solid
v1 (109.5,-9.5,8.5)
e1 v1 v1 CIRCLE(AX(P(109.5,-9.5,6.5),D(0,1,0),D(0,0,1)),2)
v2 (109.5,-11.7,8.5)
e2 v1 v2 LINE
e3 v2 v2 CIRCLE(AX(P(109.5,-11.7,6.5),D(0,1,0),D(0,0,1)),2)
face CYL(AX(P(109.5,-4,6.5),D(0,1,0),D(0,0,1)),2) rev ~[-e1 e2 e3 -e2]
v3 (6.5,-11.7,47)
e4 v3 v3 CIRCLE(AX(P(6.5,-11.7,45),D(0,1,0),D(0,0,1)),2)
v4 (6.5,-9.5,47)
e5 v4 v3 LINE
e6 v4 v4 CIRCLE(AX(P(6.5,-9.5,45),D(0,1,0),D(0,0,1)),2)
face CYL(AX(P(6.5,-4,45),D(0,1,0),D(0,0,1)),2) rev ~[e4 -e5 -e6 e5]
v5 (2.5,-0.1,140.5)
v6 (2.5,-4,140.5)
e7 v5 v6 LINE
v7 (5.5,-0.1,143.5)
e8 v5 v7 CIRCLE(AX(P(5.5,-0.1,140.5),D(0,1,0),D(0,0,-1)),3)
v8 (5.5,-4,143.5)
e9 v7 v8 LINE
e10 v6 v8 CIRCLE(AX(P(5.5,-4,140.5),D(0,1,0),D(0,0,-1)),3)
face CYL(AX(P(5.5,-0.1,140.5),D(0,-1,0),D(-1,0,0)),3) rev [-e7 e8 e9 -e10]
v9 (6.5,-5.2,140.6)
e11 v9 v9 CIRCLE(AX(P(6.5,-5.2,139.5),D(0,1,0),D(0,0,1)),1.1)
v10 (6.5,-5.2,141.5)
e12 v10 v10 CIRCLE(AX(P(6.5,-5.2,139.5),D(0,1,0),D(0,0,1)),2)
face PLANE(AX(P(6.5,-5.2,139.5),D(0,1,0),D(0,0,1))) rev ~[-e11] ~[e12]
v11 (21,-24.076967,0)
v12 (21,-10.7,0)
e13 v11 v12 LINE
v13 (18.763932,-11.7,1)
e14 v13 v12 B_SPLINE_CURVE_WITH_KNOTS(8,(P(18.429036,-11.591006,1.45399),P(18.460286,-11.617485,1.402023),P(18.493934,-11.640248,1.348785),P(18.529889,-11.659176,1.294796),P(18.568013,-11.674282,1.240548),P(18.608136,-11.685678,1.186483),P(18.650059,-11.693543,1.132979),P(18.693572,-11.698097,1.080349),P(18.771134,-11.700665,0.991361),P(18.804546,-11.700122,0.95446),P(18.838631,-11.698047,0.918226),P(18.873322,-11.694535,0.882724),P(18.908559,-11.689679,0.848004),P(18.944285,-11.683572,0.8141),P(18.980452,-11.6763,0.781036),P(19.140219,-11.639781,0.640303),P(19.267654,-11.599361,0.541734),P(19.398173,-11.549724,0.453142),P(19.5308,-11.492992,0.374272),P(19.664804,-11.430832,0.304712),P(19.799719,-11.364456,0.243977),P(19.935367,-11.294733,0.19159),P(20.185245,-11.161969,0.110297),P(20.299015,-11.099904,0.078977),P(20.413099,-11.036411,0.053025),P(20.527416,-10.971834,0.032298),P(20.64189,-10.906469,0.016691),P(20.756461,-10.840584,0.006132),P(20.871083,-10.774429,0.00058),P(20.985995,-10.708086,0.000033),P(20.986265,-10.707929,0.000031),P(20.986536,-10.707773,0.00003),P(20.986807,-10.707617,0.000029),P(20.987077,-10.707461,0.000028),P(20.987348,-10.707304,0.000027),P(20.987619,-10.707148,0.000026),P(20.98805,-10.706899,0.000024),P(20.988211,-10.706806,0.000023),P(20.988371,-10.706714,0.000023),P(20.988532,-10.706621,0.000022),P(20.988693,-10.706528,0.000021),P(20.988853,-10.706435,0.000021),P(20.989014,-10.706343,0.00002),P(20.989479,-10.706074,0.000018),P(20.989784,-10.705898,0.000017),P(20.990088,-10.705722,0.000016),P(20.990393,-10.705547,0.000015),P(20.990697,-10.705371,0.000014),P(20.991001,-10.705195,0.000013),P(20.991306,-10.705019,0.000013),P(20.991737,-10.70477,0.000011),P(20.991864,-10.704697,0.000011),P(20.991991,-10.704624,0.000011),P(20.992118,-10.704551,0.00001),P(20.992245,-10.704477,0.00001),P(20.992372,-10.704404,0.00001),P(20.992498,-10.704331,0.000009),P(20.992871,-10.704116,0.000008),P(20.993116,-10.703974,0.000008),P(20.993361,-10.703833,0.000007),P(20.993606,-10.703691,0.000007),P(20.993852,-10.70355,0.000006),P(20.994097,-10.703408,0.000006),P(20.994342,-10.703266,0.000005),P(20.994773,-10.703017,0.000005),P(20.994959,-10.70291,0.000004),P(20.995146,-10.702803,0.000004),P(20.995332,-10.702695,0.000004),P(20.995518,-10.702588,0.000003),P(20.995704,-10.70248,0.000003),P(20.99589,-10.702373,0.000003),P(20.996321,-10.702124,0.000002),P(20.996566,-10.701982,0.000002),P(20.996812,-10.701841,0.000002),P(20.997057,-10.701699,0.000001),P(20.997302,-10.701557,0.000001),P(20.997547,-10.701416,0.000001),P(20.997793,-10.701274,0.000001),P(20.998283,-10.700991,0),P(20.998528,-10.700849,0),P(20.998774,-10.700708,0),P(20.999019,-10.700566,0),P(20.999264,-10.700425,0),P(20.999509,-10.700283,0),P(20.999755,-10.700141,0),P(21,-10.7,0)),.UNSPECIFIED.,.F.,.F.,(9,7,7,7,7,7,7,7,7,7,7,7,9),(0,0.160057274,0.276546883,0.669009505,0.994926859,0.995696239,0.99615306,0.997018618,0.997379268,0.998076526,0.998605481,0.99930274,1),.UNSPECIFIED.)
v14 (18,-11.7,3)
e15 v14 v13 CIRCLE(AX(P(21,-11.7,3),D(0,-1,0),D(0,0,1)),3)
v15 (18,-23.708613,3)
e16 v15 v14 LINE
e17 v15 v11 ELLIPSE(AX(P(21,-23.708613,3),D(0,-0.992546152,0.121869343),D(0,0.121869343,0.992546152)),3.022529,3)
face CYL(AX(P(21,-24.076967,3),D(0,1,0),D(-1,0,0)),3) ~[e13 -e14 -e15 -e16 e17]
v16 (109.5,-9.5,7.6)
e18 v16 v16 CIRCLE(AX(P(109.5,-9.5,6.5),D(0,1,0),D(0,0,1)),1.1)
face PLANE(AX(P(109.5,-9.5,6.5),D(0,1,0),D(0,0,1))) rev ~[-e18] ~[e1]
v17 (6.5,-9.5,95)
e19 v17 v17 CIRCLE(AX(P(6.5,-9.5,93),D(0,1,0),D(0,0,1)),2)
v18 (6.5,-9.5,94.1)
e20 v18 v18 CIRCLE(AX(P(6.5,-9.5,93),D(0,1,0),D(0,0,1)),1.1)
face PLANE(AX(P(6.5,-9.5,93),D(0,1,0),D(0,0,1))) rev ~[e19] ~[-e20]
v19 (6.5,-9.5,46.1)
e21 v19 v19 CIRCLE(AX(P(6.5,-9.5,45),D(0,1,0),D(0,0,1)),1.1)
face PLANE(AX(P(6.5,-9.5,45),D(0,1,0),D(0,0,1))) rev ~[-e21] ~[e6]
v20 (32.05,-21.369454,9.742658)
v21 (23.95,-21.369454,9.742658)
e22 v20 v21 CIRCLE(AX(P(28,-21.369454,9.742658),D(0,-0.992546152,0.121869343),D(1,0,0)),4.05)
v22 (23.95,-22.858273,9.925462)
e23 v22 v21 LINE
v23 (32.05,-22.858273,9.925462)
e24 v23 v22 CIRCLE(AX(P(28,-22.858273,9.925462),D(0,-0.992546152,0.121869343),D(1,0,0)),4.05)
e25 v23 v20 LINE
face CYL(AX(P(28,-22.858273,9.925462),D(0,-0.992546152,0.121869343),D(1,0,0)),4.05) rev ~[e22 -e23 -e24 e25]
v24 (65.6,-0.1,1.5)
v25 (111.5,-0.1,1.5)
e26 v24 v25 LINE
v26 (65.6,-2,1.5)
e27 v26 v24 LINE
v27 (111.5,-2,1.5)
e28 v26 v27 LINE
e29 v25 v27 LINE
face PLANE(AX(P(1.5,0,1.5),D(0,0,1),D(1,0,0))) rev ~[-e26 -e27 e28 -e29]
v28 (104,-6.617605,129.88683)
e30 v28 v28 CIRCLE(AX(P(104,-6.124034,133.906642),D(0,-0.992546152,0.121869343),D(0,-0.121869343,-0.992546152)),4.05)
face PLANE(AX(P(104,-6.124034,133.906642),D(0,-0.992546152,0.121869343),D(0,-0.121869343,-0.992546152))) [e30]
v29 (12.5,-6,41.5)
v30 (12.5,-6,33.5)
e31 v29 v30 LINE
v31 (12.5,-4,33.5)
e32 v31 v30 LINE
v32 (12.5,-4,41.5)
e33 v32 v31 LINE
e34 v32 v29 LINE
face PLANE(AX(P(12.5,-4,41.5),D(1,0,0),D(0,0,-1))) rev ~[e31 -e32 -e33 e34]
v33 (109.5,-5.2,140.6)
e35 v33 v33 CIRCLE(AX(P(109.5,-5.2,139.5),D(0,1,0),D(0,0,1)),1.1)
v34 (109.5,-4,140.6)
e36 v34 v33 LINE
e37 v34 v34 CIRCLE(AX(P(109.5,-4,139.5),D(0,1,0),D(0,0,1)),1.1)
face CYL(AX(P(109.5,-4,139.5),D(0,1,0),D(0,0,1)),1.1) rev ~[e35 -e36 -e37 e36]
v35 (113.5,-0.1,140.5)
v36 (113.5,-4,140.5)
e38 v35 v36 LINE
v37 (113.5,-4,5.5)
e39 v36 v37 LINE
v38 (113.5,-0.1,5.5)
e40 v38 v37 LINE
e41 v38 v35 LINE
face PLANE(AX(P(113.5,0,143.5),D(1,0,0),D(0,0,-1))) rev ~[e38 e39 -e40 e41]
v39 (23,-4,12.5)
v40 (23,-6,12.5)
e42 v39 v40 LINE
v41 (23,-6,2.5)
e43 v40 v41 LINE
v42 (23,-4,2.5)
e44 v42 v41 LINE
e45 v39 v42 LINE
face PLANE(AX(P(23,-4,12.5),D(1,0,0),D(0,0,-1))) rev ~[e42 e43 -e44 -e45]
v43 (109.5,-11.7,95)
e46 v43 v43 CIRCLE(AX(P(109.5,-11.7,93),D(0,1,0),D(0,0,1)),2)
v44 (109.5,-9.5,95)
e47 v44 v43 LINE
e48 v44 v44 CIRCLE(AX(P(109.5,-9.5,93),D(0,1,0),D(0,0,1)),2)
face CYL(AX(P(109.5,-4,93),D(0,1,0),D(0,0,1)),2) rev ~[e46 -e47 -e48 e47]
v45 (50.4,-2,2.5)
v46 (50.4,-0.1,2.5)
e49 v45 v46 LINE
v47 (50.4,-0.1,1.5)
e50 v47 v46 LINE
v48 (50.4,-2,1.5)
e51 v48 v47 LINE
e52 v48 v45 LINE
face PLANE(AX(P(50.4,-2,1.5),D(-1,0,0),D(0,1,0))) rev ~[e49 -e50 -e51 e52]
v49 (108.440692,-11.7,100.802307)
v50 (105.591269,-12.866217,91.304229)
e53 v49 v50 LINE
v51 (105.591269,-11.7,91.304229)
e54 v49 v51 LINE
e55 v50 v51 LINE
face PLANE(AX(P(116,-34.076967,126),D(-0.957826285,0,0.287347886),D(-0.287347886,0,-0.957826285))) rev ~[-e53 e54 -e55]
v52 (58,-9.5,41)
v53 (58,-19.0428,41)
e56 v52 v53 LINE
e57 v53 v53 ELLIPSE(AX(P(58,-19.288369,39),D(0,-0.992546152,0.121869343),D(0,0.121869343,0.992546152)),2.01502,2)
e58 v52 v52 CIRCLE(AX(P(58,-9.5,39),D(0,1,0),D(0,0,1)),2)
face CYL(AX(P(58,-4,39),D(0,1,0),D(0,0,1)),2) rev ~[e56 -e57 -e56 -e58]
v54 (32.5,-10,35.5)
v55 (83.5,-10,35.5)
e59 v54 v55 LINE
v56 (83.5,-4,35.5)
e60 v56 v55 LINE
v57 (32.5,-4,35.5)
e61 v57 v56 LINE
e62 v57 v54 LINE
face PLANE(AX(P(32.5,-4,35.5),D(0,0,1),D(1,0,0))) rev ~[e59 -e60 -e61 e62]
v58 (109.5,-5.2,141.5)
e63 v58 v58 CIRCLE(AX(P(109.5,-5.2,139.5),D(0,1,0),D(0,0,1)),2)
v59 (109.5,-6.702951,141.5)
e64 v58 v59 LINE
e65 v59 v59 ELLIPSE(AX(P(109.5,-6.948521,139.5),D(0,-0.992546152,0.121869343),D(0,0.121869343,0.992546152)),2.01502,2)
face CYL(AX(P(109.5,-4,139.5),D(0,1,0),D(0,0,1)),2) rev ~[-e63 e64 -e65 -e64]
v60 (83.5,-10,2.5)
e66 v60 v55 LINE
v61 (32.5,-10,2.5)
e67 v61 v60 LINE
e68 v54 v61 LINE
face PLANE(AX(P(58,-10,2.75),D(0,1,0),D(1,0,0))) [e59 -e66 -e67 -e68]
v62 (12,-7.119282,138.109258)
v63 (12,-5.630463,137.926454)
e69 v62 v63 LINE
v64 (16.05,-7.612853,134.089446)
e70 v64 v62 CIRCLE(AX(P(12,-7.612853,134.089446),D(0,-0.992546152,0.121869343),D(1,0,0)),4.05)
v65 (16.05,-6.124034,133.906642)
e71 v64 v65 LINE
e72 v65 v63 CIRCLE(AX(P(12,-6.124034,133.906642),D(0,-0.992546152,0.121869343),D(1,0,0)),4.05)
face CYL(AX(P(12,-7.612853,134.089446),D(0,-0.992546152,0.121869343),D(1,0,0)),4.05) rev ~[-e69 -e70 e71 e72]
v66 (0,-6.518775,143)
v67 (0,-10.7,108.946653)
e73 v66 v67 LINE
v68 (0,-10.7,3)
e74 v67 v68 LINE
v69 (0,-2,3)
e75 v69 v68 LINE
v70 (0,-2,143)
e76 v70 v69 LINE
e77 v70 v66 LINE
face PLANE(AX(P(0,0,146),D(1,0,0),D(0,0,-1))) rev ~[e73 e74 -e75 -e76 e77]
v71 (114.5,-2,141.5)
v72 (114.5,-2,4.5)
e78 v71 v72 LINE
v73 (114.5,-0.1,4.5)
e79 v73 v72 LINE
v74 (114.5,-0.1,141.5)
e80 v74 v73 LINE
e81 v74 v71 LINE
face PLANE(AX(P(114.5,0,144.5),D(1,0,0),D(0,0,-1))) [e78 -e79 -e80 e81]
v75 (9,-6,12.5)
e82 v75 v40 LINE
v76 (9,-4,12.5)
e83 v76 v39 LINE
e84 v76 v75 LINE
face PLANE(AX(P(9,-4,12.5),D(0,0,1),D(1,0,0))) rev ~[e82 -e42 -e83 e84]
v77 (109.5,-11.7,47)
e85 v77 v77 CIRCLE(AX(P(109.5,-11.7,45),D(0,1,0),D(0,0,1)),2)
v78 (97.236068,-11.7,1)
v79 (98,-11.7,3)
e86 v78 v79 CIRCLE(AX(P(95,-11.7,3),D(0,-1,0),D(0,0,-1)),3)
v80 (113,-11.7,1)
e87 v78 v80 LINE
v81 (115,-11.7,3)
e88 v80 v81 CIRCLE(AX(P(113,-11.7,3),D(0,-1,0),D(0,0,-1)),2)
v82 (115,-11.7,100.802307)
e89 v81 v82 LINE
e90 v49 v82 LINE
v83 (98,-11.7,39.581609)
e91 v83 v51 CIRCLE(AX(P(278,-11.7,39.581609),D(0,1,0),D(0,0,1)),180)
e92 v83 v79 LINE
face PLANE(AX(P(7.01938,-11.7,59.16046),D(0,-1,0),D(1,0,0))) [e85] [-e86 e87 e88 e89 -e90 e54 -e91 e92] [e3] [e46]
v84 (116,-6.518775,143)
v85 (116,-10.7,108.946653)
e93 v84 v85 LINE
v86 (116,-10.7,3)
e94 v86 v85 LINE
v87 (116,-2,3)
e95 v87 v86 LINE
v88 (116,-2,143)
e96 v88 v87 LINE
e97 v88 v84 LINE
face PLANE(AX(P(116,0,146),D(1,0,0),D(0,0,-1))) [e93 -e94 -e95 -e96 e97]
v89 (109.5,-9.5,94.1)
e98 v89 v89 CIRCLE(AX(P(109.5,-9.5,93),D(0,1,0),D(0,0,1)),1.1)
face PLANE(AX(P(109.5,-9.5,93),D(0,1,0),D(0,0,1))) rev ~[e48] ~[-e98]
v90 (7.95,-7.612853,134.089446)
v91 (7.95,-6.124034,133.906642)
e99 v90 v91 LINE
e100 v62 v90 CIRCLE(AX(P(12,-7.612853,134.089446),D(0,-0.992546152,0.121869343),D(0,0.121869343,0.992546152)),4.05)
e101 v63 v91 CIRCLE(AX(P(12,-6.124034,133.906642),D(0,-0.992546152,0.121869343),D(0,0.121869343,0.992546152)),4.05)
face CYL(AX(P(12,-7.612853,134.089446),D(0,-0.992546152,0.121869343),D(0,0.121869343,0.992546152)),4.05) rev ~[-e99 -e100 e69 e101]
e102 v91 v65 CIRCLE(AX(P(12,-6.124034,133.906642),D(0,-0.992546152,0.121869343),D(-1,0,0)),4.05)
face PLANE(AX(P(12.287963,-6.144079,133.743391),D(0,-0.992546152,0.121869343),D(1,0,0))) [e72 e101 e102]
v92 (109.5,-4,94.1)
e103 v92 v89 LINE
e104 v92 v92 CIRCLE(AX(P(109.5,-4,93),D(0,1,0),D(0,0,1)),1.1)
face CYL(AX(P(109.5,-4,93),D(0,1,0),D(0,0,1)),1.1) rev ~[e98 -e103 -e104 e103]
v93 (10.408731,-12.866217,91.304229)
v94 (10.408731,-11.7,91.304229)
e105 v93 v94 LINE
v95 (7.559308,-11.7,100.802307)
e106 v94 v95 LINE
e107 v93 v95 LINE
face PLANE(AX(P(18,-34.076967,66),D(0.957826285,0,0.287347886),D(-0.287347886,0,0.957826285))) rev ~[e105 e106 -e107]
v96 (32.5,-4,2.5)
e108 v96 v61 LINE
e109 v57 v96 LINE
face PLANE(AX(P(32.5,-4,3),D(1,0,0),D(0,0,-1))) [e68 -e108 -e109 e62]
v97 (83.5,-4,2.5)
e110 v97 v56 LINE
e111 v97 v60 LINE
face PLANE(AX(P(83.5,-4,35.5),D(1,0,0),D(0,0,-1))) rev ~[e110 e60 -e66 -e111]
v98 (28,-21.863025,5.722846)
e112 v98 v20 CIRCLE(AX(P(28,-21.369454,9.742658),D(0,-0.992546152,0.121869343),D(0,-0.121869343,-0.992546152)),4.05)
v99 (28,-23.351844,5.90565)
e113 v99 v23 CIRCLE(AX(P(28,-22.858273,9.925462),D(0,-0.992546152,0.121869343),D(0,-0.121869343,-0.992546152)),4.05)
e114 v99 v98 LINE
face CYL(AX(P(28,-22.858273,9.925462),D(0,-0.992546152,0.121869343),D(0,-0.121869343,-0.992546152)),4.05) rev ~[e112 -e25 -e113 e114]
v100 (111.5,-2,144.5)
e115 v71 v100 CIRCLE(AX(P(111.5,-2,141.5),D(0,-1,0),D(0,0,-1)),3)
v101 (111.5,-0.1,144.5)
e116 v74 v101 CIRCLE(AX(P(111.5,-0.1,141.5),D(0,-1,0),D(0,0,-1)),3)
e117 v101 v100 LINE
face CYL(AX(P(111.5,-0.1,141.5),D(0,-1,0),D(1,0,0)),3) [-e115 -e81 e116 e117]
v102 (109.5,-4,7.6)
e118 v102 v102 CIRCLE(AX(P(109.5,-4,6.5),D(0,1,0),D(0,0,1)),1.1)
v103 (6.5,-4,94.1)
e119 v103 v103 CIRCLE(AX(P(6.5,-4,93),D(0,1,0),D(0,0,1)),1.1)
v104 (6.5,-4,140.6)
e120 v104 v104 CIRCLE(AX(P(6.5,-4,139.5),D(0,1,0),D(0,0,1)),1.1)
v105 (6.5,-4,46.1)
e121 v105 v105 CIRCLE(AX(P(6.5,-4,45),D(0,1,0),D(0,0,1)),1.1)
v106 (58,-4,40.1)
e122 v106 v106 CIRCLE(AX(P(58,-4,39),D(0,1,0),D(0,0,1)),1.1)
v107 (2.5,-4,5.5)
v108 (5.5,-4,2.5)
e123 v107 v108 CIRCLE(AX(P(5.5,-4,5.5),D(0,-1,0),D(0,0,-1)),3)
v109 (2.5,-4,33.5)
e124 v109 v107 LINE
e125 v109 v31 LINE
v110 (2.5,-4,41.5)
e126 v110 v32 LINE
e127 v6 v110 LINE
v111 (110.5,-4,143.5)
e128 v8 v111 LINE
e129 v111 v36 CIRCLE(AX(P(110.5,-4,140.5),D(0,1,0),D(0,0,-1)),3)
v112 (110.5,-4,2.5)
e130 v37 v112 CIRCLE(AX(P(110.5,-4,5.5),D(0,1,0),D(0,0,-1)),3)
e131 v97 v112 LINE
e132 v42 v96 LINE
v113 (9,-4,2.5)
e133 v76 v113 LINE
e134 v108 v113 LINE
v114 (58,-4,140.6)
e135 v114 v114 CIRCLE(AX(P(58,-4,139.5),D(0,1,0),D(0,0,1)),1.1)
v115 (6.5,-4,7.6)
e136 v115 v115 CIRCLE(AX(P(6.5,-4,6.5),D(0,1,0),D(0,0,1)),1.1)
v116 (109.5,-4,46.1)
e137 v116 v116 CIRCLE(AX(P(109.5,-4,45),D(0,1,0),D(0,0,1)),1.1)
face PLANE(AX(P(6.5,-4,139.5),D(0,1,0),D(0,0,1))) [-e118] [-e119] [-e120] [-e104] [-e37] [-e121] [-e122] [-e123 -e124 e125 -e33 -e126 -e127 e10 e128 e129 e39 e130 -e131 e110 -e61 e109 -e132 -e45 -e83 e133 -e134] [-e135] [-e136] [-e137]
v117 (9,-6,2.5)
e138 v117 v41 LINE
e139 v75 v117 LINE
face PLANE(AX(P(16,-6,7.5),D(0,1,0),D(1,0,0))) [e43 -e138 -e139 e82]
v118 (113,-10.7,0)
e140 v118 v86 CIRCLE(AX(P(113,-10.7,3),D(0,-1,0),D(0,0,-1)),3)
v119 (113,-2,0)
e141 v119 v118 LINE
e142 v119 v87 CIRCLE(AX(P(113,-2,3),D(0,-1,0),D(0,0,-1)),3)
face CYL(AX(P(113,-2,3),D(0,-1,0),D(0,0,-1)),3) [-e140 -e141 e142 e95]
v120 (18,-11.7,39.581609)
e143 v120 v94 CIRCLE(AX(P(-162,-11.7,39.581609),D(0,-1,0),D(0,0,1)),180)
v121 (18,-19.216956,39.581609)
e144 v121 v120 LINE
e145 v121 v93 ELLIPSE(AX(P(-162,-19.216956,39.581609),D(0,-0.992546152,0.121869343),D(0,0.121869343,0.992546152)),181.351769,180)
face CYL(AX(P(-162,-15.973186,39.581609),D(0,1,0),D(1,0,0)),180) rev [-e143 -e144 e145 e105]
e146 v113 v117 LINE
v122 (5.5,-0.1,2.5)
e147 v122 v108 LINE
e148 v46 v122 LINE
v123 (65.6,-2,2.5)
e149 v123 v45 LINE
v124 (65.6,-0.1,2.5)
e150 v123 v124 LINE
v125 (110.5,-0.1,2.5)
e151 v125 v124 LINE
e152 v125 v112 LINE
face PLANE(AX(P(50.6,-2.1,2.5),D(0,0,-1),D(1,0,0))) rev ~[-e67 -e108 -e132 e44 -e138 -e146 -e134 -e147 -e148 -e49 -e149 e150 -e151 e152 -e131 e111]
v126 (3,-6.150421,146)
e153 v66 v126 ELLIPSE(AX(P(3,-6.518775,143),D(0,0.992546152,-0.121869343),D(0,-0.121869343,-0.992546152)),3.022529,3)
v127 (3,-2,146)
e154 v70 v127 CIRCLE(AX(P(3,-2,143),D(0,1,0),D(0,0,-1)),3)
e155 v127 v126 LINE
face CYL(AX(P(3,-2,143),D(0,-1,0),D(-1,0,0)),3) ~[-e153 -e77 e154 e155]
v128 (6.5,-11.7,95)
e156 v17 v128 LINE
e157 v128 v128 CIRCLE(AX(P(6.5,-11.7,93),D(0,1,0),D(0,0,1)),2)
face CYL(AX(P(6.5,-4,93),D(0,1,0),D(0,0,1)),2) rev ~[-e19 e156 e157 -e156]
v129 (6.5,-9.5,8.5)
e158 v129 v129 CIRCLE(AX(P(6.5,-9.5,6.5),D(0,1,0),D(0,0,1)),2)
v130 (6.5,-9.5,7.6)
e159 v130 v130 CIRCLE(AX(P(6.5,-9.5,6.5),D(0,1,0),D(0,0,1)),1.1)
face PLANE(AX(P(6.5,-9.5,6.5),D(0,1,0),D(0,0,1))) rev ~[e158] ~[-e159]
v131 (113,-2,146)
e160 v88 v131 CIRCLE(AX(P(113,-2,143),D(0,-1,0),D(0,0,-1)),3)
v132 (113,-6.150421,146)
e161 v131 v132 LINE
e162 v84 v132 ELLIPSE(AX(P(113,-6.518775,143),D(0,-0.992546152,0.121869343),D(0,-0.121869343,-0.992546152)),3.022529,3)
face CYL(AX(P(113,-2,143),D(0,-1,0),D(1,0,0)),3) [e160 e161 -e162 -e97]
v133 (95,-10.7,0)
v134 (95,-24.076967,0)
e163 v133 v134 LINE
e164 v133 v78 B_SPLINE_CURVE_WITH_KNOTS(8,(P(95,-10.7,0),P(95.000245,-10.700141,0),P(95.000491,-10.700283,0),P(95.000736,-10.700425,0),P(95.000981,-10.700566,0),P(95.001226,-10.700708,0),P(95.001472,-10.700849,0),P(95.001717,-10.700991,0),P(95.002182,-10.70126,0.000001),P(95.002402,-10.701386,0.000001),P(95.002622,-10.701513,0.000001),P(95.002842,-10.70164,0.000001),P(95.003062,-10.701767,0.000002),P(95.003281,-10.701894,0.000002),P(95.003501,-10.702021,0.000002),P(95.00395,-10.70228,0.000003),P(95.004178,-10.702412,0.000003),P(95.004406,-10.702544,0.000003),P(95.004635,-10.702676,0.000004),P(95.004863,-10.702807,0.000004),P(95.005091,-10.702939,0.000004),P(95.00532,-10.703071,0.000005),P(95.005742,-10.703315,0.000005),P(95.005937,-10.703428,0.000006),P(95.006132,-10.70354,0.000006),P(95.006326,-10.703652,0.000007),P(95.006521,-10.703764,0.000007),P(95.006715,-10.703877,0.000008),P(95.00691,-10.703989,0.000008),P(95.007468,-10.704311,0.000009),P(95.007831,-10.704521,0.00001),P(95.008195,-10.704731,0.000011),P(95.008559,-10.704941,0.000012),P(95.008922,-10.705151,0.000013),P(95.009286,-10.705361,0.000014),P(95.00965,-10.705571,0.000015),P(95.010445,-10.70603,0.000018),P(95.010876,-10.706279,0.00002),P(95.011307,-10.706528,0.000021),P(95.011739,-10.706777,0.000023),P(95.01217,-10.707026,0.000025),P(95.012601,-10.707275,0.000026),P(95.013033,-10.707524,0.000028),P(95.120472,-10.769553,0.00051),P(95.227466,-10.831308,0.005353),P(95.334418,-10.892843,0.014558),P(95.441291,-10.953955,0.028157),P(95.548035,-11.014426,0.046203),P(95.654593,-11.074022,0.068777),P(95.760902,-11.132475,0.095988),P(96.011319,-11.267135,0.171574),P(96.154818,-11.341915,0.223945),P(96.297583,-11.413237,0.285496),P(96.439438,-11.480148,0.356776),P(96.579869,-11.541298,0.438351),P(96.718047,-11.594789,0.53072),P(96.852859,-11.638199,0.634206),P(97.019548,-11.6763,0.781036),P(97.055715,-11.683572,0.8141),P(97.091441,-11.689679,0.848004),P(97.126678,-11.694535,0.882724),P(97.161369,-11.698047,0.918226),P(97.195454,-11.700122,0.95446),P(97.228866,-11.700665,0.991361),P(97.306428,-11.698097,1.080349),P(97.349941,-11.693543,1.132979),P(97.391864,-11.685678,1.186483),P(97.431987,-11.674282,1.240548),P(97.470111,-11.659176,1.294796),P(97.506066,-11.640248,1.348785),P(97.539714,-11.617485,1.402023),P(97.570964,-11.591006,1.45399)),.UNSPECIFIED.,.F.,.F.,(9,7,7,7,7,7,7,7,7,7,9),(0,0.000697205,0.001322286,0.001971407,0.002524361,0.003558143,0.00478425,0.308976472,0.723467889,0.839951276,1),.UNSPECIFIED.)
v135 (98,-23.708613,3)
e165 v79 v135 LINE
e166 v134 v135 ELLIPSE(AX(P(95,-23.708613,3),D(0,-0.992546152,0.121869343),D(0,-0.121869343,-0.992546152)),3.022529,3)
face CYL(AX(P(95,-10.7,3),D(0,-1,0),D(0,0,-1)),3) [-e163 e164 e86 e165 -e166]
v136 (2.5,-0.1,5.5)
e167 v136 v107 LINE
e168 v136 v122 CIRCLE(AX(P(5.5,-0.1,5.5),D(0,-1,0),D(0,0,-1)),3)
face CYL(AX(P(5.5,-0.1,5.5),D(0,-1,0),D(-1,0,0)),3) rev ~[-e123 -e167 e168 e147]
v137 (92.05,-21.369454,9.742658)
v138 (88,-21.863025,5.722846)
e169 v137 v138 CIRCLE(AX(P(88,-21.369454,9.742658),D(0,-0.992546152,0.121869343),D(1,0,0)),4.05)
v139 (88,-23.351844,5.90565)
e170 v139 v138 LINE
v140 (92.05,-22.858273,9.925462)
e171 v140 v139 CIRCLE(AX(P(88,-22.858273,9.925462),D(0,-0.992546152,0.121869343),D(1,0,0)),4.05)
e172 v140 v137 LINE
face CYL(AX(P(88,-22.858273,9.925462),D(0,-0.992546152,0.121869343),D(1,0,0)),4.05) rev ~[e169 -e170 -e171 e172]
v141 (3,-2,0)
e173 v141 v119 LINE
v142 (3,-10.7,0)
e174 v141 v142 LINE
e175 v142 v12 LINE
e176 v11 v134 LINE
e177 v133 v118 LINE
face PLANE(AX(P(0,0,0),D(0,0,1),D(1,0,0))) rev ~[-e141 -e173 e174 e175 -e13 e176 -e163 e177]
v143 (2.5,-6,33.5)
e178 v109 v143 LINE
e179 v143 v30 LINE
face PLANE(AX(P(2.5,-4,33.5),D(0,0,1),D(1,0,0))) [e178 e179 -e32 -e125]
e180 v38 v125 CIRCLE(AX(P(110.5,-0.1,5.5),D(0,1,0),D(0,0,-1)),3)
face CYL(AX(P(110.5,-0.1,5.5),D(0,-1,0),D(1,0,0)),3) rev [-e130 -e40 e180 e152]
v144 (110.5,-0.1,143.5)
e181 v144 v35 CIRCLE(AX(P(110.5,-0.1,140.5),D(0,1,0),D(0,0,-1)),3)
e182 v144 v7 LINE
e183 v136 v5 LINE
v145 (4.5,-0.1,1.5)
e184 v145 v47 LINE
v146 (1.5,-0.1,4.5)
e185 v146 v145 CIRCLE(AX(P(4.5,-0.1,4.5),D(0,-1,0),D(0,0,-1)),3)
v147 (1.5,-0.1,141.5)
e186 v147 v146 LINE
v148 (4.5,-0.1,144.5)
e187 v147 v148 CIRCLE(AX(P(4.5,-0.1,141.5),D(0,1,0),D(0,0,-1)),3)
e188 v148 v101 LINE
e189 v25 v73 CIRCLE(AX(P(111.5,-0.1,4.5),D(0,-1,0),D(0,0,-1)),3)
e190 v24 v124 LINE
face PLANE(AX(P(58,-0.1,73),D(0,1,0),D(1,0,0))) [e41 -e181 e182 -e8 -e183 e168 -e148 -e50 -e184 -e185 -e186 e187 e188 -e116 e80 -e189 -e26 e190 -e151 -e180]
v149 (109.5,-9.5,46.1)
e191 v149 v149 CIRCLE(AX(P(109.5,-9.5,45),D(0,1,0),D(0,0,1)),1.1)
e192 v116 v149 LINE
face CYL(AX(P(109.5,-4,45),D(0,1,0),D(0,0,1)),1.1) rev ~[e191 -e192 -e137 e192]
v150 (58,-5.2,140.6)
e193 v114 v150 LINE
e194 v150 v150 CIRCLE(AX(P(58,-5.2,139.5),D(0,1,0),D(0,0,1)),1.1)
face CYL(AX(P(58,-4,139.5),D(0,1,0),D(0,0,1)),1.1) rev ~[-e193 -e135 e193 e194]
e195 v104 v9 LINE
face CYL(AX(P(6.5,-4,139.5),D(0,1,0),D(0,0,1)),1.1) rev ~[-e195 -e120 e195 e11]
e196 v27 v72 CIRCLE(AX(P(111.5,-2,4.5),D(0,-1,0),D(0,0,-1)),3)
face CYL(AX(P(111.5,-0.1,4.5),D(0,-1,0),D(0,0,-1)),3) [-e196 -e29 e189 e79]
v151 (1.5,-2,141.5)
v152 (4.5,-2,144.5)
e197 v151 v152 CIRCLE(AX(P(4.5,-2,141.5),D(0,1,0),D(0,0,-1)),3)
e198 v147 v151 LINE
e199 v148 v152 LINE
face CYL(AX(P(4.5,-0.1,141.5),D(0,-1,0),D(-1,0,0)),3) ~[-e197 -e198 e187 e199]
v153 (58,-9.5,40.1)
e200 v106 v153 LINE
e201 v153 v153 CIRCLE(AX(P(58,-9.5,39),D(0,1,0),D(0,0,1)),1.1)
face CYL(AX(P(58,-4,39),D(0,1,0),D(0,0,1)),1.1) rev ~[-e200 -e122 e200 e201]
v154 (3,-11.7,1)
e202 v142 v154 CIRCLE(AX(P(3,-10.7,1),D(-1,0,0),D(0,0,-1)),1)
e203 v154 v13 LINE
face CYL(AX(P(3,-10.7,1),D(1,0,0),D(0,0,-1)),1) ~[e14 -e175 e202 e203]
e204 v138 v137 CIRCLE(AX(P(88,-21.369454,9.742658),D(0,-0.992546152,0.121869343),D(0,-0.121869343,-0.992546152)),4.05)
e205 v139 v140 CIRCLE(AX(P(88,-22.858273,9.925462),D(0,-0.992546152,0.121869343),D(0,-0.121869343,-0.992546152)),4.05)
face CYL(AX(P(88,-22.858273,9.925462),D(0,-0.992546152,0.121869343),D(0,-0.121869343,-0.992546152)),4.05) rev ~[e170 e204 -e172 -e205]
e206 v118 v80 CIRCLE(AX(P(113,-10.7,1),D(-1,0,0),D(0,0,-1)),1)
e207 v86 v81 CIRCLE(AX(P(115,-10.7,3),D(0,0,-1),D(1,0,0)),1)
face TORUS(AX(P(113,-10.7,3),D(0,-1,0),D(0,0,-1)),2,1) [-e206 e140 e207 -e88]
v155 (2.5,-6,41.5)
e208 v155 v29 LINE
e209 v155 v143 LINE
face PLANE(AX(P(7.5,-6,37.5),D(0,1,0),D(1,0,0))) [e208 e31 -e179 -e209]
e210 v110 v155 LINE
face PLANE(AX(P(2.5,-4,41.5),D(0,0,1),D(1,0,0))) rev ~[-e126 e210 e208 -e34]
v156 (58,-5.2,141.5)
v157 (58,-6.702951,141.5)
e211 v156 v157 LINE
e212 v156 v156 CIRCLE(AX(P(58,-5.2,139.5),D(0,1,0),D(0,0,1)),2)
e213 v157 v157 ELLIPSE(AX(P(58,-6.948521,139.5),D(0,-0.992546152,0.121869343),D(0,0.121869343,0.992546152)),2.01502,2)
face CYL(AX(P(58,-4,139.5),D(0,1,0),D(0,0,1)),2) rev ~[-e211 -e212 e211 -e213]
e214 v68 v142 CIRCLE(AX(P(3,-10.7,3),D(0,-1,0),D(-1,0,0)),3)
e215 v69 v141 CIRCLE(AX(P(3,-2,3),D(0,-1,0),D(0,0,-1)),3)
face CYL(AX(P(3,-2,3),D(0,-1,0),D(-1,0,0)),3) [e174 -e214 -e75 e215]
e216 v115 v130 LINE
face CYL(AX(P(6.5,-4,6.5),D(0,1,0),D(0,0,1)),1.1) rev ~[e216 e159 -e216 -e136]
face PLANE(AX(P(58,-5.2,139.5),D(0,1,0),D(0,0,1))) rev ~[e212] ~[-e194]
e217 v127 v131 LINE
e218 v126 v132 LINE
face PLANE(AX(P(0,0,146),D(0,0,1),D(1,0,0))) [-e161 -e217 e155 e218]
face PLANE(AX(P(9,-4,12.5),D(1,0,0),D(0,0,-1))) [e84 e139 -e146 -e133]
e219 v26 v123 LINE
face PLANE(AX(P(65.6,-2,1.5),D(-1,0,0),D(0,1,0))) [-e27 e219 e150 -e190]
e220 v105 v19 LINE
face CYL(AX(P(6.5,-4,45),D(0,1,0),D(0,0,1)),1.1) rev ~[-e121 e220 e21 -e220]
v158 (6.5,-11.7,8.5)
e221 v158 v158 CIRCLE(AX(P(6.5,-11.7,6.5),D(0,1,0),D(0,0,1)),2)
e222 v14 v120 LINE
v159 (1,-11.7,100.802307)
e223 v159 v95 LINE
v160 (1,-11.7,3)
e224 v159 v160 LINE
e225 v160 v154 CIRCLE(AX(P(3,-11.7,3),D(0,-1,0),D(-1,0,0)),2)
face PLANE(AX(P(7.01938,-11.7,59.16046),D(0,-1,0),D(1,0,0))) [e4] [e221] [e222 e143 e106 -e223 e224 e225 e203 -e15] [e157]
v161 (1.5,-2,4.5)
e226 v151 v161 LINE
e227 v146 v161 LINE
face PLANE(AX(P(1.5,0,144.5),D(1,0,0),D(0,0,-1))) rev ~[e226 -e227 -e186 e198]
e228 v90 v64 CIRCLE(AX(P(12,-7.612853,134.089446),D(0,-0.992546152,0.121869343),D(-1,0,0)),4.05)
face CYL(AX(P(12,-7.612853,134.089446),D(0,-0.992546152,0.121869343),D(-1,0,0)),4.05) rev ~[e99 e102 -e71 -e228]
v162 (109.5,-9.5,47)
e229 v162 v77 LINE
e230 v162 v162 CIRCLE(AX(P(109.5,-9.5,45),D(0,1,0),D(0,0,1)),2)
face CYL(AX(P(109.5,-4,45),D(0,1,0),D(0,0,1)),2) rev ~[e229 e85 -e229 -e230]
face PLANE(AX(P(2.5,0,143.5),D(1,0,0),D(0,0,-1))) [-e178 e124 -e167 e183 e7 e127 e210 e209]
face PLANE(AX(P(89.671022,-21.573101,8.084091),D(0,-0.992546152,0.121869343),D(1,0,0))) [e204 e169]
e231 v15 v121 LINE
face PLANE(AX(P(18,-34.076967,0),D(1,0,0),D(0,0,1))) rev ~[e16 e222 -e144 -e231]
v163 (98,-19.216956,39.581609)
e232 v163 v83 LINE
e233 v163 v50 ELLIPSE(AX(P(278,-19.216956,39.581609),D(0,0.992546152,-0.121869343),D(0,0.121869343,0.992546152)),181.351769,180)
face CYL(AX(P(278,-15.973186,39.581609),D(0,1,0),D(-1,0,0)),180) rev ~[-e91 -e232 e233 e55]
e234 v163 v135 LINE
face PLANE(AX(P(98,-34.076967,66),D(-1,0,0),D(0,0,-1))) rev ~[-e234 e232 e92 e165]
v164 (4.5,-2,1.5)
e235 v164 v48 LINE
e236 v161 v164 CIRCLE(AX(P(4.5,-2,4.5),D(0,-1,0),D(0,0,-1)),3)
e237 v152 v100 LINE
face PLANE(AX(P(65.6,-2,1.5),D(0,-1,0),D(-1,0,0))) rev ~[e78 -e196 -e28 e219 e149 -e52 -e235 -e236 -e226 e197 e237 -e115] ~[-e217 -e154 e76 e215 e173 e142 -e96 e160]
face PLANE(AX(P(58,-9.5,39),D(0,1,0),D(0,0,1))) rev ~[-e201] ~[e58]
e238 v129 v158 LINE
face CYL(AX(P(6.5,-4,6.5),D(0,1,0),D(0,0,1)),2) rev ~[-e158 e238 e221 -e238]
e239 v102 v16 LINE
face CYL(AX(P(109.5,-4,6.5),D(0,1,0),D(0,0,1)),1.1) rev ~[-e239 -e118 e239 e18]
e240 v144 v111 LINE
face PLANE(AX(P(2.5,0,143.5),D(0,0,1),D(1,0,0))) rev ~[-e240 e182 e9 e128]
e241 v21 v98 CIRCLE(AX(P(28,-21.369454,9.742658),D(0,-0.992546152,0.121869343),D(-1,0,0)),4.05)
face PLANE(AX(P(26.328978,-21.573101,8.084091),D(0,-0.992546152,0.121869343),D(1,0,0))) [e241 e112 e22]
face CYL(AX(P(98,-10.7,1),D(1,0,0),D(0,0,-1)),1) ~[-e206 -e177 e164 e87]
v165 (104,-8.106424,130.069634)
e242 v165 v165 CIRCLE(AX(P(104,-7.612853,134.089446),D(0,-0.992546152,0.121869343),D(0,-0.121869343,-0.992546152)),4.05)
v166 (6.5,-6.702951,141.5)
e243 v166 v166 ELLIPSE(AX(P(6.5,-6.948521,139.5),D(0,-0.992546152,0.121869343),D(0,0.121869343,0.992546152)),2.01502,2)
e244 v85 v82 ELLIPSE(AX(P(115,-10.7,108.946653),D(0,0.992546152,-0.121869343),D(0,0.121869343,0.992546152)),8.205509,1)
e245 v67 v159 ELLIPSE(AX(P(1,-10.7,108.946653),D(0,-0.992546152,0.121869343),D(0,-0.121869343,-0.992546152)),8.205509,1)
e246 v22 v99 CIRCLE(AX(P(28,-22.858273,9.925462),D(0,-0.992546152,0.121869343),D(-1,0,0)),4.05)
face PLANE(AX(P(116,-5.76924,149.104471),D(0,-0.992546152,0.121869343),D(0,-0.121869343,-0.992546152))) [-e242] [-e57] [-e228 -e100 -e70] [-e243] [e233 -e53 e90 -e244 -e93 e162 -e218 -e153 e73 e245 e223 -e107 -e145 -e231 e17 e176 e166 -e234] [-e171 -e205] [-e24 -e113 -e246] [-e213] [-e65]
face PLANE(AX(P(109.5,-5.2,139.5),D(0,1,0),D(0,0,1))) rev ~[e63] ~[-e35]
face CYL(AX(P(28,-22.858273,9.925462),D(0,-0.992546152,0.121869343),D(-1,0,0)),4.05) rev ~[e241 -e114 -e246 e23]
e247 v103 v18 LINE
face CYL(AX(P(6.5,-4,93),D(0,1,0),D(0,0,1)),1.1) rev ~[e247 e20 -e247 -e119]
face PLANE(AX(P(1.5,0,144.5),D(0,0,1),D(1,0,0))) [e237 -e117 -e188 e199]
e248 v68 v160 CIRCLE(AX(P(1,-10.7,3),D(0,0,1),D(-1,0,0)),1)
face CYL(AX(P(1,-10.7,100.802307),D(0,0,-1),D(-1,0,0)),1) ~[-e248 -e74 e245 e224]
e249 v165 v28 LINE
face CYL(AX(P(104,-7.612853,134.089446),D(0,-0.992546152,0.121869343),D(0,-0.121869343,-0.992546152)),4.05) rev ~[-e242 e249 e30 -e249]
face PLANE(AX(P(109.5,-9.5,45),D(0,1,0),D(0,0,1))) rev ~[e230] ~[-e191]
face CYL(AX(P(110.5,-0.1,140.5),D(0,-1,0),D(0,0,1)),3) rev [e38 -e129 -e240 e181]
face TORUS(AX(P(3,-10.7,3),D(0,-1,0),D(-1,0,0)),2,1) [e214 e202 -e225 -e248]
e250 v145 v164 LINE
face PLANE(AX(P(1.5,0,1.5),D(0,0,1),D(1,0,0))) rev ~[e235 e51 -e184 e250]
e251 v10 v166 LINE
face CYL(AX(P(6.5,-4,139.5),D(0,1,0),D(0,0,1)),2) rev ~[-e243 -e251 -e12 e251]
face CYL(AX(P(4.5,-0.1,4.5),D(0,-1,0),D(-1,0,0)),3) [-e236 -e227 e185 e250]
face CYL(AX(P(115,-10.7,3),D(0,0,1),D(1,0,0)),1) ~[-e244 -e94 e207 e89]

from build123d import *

# Parameters (mm, degrees)
SKETCH_1_W           = 116
SKETCH_1_H           = 146
EXTRUDE_1_DEPTH      = 30
SKETCH_2_R           = 1.1
CUT_EXTRUDE_3_DEPTH  = 189.870325885
SKETCH_5_W           = 110
SKETCH_5_H           = 140
CUT_EXTRUDE_4_DEPTH  = 4
CUT_EXTRUDE_5_DEPTH  = 189.870325885
SKETCH_9_W           = 51
SKETCH_9_H           = 32.5
CUT_EXTRUDE_7_DEPTH  = 6
SKETCH_13_W          = 111
SKETCH_13_H          = 141
CUT_EXTRUDE_11_DEPTH = 4
SKETCH_15_W          = 51
SKETCH_15_H          = 0.5
CUT_EXTRUDE_12_DEPTH = 6
SKETCH_16_W          = 116
SKETCH_16_H          = 146
SKETCH_16_W_2        = 113
SKETCH_16_H_2        = 143
CUT_EXTRUDE_13_DEPTH = 2
SKETCH_17_W          = 14
SKETCH_17_H          = 10
SKETCH_17_W_2        = 10
SKETCH_17_H_2        = 8
CUT_EXTRUDE_14_DEPTH = 2
SKETCH_18_W          = 113
SKETCH_18_H          = 143
CUT_EXTRUDE_15_DEPTH = 0.1
SKETCH_19_W          = 14.8
SKETCH_19_H          = 2
CUT_EXTRUDE_17_DEPTH = 1.5
SKETCH_20_W          = 14.8
SKETCH_20_H          = 1
EXTRUDE_4_DEPTH      = 0.1
SKETCH_21_W          = 15.2
SKETCH_21_H          = 1.9
CUT_EXTRUDE_18_DEPTH = 1
SKETCH_22_R          = 2
CUT_EXTRUDE_19_DEPTH = 188.550218861
SKETCH_23_R          = 2
SKETCH_23_R_2        = 1.1
EXTRUDE_5_DEPTH      = 5.5
SKETCH_24_R          = 2
SKETCH_24_R_2        = 1.1
EXTRUDE_6_DEPTH      = 1.2
SKETCH_26_R          = 4.05
CUT_EXTRUDE_20_DEPTH = 1.5
SKETCH_32_W          = 116
SKETCH_32_H          = 10
EXTRUDE_7_DEPTH      = 10
CUT_EXTRUDE_22_DEPTH = 22.376967
FILLET_16_R          = 3
FILLET_18_R          = 1
FILLET_25_R          = 180
FILLET_26_R          = 180
FILLET_27_R          = 3
CUT_EXTRUDE_23_DEPTH = 1.5


with BuildPart() as part:
    # 스케치1 → 보스-돌출1 (new body)
    with BuildSketch(Plane(origin=(0, 0, 0), x_dir=(1, 0, 0), z_dir=(0, 1, 0))):
        with Locations((58, -73)):
            Rectangle(SKETCH_1_W, SKETCH_1_H)
    extrude(amount=-EXTRUDE_1_DEPTH)

    # 스케치2 → 컷-돌출3 (cut, through all)
    with BuildSketch(Plane(origin=(0, 0, 0), x_dir=(1, 0, 0), z_dir=(0, 1, 0))):
        with Locations(Location((6.5, -139.5, 0), (0, 0, 270))):
            Circle(SKETCH_2_R)
        with Locations(Location((109.5, -139.5, 0), (0, 0, 270))):
            Circle(SKETCH_2_R)
        with Locations(Location((58, -139.5, 0), (0, 0, 270))):
            Circle(SKETCH_2_R)
        with Locations(Location((6.5, -93, 0), (0, 0, 270))):
            Circle(SKETCH_2_R)
        with Locations(Location((109.5, -93, 0), (0, 0, 270))):
            Circle(SKETCH_2_R)
        with Locations(Location((6.5, -45, 0), (0, 0, 270))):
            Circle(SKETCH_2_R)
        with Locations(Location((109.5, -45, 0), (0, 0, 270))):
            Circle(SKETCH_2_R)
        with Locations(Location((58, -39, 0), (0, 0, 270))):
            Circle(SKETCH_2_R)
        with Locations(Location((6.5, -6.5, 0), (0, 0, 270))):
            Circle(SKETCH_2_R)
        with Locations(Location((109.5, -6.5, 0), (0, 0, 270))):
            Circle(SKETCH_2_R)
    extrude(amount=-CUT_EXTRUDE_3_DEPTH, mode=Mode.SUBTRACT)

    # 스케치5 → 컷-돌출4 (cut)
    with BuildSketch(Plane(origin=(0, 0, 0), x_dir=(1, 0, 0), z_dir=(0, 1, 0))):
        with Locations((58, -73)):
            Rectangle(SKETCH_5_W, SKETCH_5_H)
    extrude(amount=-CUT_EXTRUDE_4_DEPTH, mode=Mode.SUBTRACT)

    # 스케치6 → 컷-돌출5 (cut, through all)
    with BuildSketch(Plane(origin=(116, 0, 0), x_dir=(0, 0, -1), z_dir=(1, 0, 0))):
        Polygon((-149.104471467, -5.769239715), (15.481959193, -25.977912334), (15.481959193, -42.516159971), (-150.117483456, -37.174576773), align=None)
    extrude(amount=-CUT_EXTRUDE_5_DEPTH, mode=Mode.SUBTRACT)

    # 스케치9 → 컷-돌출7 (cut)
    with BuildSketch(Plane(origin=(0, -4, 0), x_dir=(1, 0, 0), z_dir=(0, 1, 0))):
        with Locations((58, -19.25)):
            Rectangle(SKETCH_9_W, SKETCH_9_H)
    extrude(amount=-CUT_EXTRUDE_7_DEPTH, mode=Mode.SUBTRACT)

    # 스케치13 → 컷-돌출11 (cut)
    with BuildSketch(Plane(origin=(0, 0, 0), x_dir=(1, 0, 0), z_dir=(0, 1, 0))):
        with Locations((58, -73)):
            Rectangle(SKETCH_13_W, SKETCH_13_H)
    extrude(amount=-CUT_EXTRUDE_11_DEPTH, mode=Mode.SUBTRACT)

    # 스케치15 → 컷-돌출12 (cut)
    with BuildSketch(Plane(origin=(0, -4, 0), x_dir=(1, 0, 0), z_dir=(0, 1, 0))):
        with Locations((58, -2.75)):
            Rectangle(SKETCH_15_W, SKETCH_15_H)
    extrude(amount=-CUT_EXTRUDE_12_DEPTH, mode=Mode.SUBTRACT)

    # 스케치16 → 컷-돌출13 (cut)
    with BuildSketch(Plane(origin=(0, 0, 0), x_dir=(1, 0, 0), z_dir=(0, 1, 0))):
        with Locations((58, -73)):
            Rectangle(SKETCH_16_W, SKETCH_16_H)
        with Locations((58, -73)):
            Rectangle(SKETCH_16_W_2, SKETCH_16_H_2, mode=Mode.SUBTRACT)
    extrude(amount=-CUT_EXTRUDE_13_DEPTH, mode=Mode.SUBTRACT)

    # 스케치17 → 컷-돌출14 (cut)
    with BuildSketch(Plane(origin=(0, -4, 0), x_dir=(1, 0, 0), z_dir=(0, 1, 0))):
        with Locations((16, -7.5)):
            Rectangle(SKETCH_17_W, SKETCH_17_H)
        with Locations((7.5, -37.5)):
            Rectangle(SKETCH_17_W_2, SKETCH_17_H_2)
    extrude(amount=-CUT_EXTRUDE_14_DEPTH, mode=Mode.SUBTRACT)

    # 스케치18 → 컷-돌출15 (cut)
    with BuildSketch(Plane(origin=(0, 0, 0), x_dir=(1, 0, 0), z_dir=(0, 1, 0))):
        with Locations((58, -73)):
            Rectangle(SKETCH_18_W, SKETCH_18_H)
    extrude(amount=-CUT_EXTRUDE_15_DEPTH, mode=Mode.SUBTRACT)

    # 스케치19 → 컷-돌출17 (cut)
    with BuildSketch(Plane(origin=(0, 0, 1.5), x_dir=(-1, 0, 0), z_dir=(0, 0, -1))):
        with Locations((-58, -1.1)):
            Rectangle(SKETCH_19_W, SKETCH_19_H)
    extrude(amount=-CUT_EXTRUDE_17_DEPTH, mode=Mode.SUBTRACT)

    # 스케치20 → 보스-돌출4 (add)
    with BuildSketch(Plane(origin=(0, -2.1, 0), x_dir=(1, 0, 0), z_dir=(0, 1, 0))):
        with Locations((58, -2)):
            Rectangle(SKETCH_20_W, SKETCH_20_H)
    extrude(amount=EXTRUDE_4_DEPTH)

    # 스케치21 → 컷-돌출18 (cut)
    with BuildSketch(Plane(origin=(0, 0, 1.5), x_dir=(-1, 0, 0), z_dir=(0, 0, -1))):
        with Locations((-58, -1.05)):
            Rectangle(SKETCH_21_W, SKETCH_21_H)
    extrude(amount=-CUT_EXTRUDE_18_DEPTH, mode=Mode.SUBTRACT)

    # 스케치22 → 컷-돌출19 (cut, through all)
    with BuildSketch(Plane(origin=(0, -4, 0), x_dir=(1, 0, 0), z_dir=(0, 1, 0))):
        with Locations(Location((6.5, -6.5, 0), (0, 0, 270))):
            Circle(SKETCH_22_R)
        with Locations(Location((109.5, -6.5, 0), (0, 0, 270))):
            Circle(SKETCH_22_R)
        with Locations(Location((109.5, -45, 0), (0, 0, 270))):
            Circle(SKETCH_22_R)
        with Locations(Location((58, -39, 0), (0, 0, 270))):
            Circle(SKETCH_22_R)
        with Locations(Location((6.5, -45, 0), (0, 0, 270))):
            Circle(SKETCH_22_R)
        with Locations(Location((6.5, -93, 0), (0, 0, 270))):
            Circle(SKETCH_22_R)
        with Locations(Location((6.5, -139.5, 0), (0, 0, 270))):
            Circle(SKETCH_22_R)
        with Locations(Location((58, -139.5, 0), (0, 0, 270))):
            Circle(SKETCH_22_R)
        with Locations(Location((109.5, -139.5, 0), (0, 0, 270))):
            Circle(SKETCH_22_R)
        with Locations(Location((109.5, -93, 0), (0, 0, 270))):
            Circle(SKETCH_22_R)
    extrude(amount=-CUT_EXTRUDE_19_DEPTH, mode=Mode.SUBTRACT)

    # 스케치23 → 보스-돌출5 (add)
    # profile 1 of 7: a face of its own
    with BuildSketch(Plane(origin=(0, -4, 0), x_dir=(1, 0, 0), z_dir=(0, 1, 0))):
        with Locations(Location((6.5, -6.5, 0), (0, 0, 270))):
            Circle(SKETCH_23_R)
        with Locations(Location((6.5, -6.5, 0), (0, 0, 270))):
            Circle(SKETCH_23_R_2, mode=Mode.SUBTRACT)
    # profile 2 of 7: a face of its own
    with BuildSketch(Plane(origin=(0, -4, 0), x_dir=(1, 0, 0), z_dir=(0, 1, 0))):
        with Locations(Location((6.5, -45, 0), (0, 0, 270))):
            Circle(SKETCH_23_R)
        with Locations(Location((6.5, -45, 0), (0, 0, 270))):
            Circle(SKETCH_23_R_2, mode=Mode.SUBTRACT)
    # profile 3 of 7: a face of its own
    with BuildSketch(Plane(origin=(0, -4, 0), x_dir=(1, 0, 0), z_dir=(0, 1, 0))):
        with Locations(Location((6.5, -93, 0), (0, 0, 270))):
            Circle(SKETCH_23_R)
        with Locations(Location((6.5, -93, 0), (0, 0, 270))):
            Circle(SKETCH_23_R_2, mode=Mode.SUBTRACT)
    # profile 4 of 7: a face of its own
    with BuildSketch(Plane(origin=(0, -4, 0), x_dir=(1, 0, 0), z_dir=(0, 1, 0))):
        with Locations(Location((109.5, -93, 0), (0, 0, 270))):
            Circle(SKETCH_23_R)
        with Locations(Location((109.5, -93, 0), (0, 0, 270))):
            Circle(SKETCH_23_R_2, mode=Mode.SUBTRACT)
    # profile 5 of 7: a face of its own
    with BuildSketch(Plane(origin=(0, -4, 0), x_dir=(1, 0, 0), z_dir=(0, 1, 0))):
        with Locations(Location((109.5, -45, 0), (0, 0, 270))):
            Circle(SKETCH_23_R)
        with Locations(Location((109.5, -45, 0), (0, 0, 270))):
            Circle(SKETCH_23_R_2, mode=Mode.SUBTRACT)
    # profile 6 of 7: a face of its own
    with BuildSketch(Plane(origin=(0, -4, 0), x_dir=(1, 0, 0), z_dir=(0, 1, 0))):
        with Locations(Location((58, -39, 0), (0, 0, 270))):
            Circle(SKETCH_23_R)
        with Locations(Location((58, -39, 0), (0, 0, 270))):
            Circle(SKETCH_23_R_2, mode=Mode.SUBTRACT)
    # profile 7 of 7: a face of its own
    with BuildSketch(Plane(origin=(0, -4, 0), x_dir=(1, 0, 0), z_dir=(0, 1, 0))):
        with Locations(Location((109.5, -6.5, 0), (0, 0, 270))):
            Circle(SKETCH_23_R)
        with Locations(Location((109.5, -6.5, 0), (0, 0, 270))):
            Circle(SKETCH_23_R_2, mode=Mode.SUBTRACT)
    extrude(amount=-EXTRUDE_5_DEPTH)

    # 스케치24 → 보스-돌출6 (add)
    # profile 1 of 3: a face of its own
    with BuildSketch(Plane(origin=(0, -4, 0), x_dir=(1, 0, 0), z_dir=(0, 1, 0))):
        with Locations(Location((6.5, -139.5, 0), (0, 0, 270))):
            Circle(SKETCH_24_R)
        with Locations(Location((6.5, -139.5, 0), (0, 0, 270))):
            Circle(SKETCH_24_R_2, mode=Mode.SUBTRACT)
    # profile 2 of 3: a face of its own
    with BuildSketch(Plane(origin=(0, -4, 0), x_dir=(1, 0, 0), z_dir=(0, 1, 0))):
        with Locations(Location((58, -139.5, 0), (0, 0, 270))):
            Circle(SKETCH_24_R)
        with Locations(Location((58, -139.5, 0), (0, 0, 270))):
            Circle(SKETCH_24_R_2, mode=Mode.SUBTRACT)
    # profile 3 of 3: a face of its own
    with BuildSketch(Plane(origin=(0, -4, 0), x_dir=(1, 0, 0), z_dir=(0, 1, 0))):
        with Locations(Location((109.5, -139.5, 0), (0, 0, 270))):
            Circle(SKETCH_24_R)
        with Locations(Location((109.5, -139.5, 0), (0, 0, 270))):
            Circle(SKETCH_24_R_2, mode=Mode.SUBTRACT)
    extrude(amount=-EXTRUDE_6_DEPTH)

    # 스케치26 → 컷-돌출20 (cut)
    with BuildSketch(Plane(origin=(0, -23.719372367, 2.912372721), x_dir=(1, 0, 0), z_dir=(0, -0.992546151641323, 0.12186934340514062))):
        with Locations(Location((12, 9.065755868, 0), (0, 0, 270))):
            Circle(SKETCH_26_R)
        with BuildLine():
            ThreePointArc((108.05, 9.065755868), (101.136217536, 11.929538332), (104, 5.015755868))
            Line((104, 5.015755868), (104, 9.065755868))
            Line((104, 9.065755868), (108.05, 9.065755868))
        make_face()
        with BuildLine():
            Line((104, 9.065755868), (104, 5.015755868))
            ThreePointArc((104, 5.015755868), (106.863782464, 6.201973404), (108.05, 9.065755868))
            Line((108.05, 9.065755868), (104, 9.065755868))
        make_face()
        with BuildLine():
            ThreePointArc((16.05, 132.162190385), (14.863782464, 135.025972849), (12, 136.212190385))
            Line((12, 136.212190385), (12, 132.162190385))
            Line((12, 132.162190385), (7.95, 132.162190385))
            ThreePointArc((7.95, 132.162190385), (12, 128.112190385), (16.05, 132.162190385))
        make_face()
        with BuildLine():
            Line((12, 132.162190385), (12, 136.212190385))
            ThreePointArc((12, 136.212190385), (9.136217536, 135.025972849), (7.95, 132.162190385))
            Line((7.95, 132.162190385), (12, 132.162190385))
        make_face()
        with Locations(Location((104, 132.162190385, 0), (0, 0, 270))):
            Circle(SKETCH_26_R)
    extrude(amount=-CUT_EXTRUDE_20_DEPTH, mode=Mode.SUBTRACT)


with BuildPart() as body_2:
    # 스케치32 → 보스-돌출7 (new body)
    with BuildSketch(Plane(origin=(0, 0, 0), x_dir=(-1, 0, 0), z_dir=(0, 0, -1))):
        with Locations((-58, -29.076966773)):
            Rectangle(SKETCH_32_W, SKETCH_32_H)
    extrude(amount=EXTRUDE_7_DEPTH)


with BuildPart() as cut_extrude_22_tool:
    # 스케치33 → 컷-돌출22 (new body)
    with BuildSketch(Plane.XZ.offset(34.076966773)):
        Polygon((0, 126), (0, 0), (18, 0), (18, 66), align=None)
        Polygon((18, 0), (0, 0), (0, -10), (116, -10), (116, 0), (98, 0), align=None)
        Polygon((98, 66), (98, 0), (116, 0), (116, 126), align=None)
    extrude(amount=-CUT_EXTRUDE_22_DEPTH)


with BuildPart() as part_1:
    add(part.part)

    # 컷-돌출22: cut by cut_extrude_22_tool
    add(cut_extrude_22_tool.part, mode=Mode.SUBTRACT)

    # 필렛16
    fillet_16_edges = [part_1.edges().sort_by_distance(p)[0] for p in [
        (0, -4.07521044, 146),
        (116, -4.07521044, 146),
        (2.5, -2.05, 2.5),
        (113.5, -2.05, 2.5),
        (113.5, -2.05, 143.5),
        (2.5, -2.05, 143.5),
        (114.5, -1.05, 1.5),
        (114.5, -1.05, 144.5),
        (1.5, -1.05, 144.5),
        (1.5, -1.05, 1.5),
        (116, -6.849999886, 0),
        (0, -6.849999886, 0),
    ]]
    fillet(fillet_16_edges, radius=FILLET_16_R)

    # 필렛18
    fillet_18_edges = [part_1.edges().sort_by_distance(p)[0] for p in [
        (10.5, -11.699999773, 0),
        (0, -11.699999773, 51.901153488),
        (116, -11.699999773, 51.901153488),
        (105.5, -11.699999773, 0),
        (115.121320344, -11.699999773, 0.878679656),
        (0.878679656, -11.699999773, 0.878679656),
    ]]
    fillet(fillet_18_edges, radius=FILLET_18_R)

    # 필렛25
    fillet_25_edges = [part_1.edges().sort_by_distance(p)[0] for p in [
        (98, -13.836592763, 66),
    ]]
    fillet(fillet_25_edges, radius=FILLET_25_R)

    # 필렛26
    fillet_26_edges = [part_1.edges().sort_by_distance(p)[0] for p in [
        (18, -13.836592763, 66),
    ]]
    fillet(fillet_26_edges, radius=FILLET_26_R)

    # 필렛27
    fillet_27_edges = [part_1.edges().sort_by_distance(p)[0] for p in [
        (18, -17.388483273, 0),
        (98, -17.388483273, 0),
    ]]
    fillet(fillet_27_edges, radius=FILLET_27_R)

    # 스케치34 → 컷-돌출23 (cut)
    with BuildSketch(Plane(origin=(0, -23.719372367, 2.912372721), x_dir=(1, 0, 0), z_dir=(0, -0.992546151641323, 0.12186934340514062))):
        with BuildLine():
            ThreePointArc((23.95, 7.065755868), (25.136217536, 4.201973404), (28, 3.015755868))
            Line((28, 3.015755868), (28, 7.065755868))
            Line((28, 7.065755868), (23.95, 7.065755868))
        make_face()
        with BuildLine():
            Line((28, 7.065755868), (28, 3.015755868))
            ThreePointArc((28, 3.015755868), (30.863782464, 4.201973404), (32.05, 7.065755868))
            ThreePointArc((32.05, 7.065755868), (28, 11.115755868), (23.95, 7.065755868))
            Line((23.95, 7.065755868), (28, 7.065755868))
        make_face()
        with BuildLine():
            ThreePointArc((88, 3.015755868), (90.863782464, 4.201973404), (92.05, 7.065755868))
            Line((92.05, 7.065755868), (88, 7.065755868))
            Line((88, 7.065755868), (88, 3.015755868))
        make_face()
        with BuildLine():
            Line((88, 7.065755868), (92.05, 7.065755868))
            ThreePointArc((92.05, 7.065755868), (85.136217536, 9.929538332), (88, 3.015755868))
            Line((88, 3.015755868), (88, 7.065755868))
        make_face()
    extrude(amount=-CUT_EXTRUDE_23_DEPTH, mode=Mode.SUBTRACT)


with BuildPart() as body_2_1:
    add(body_2.part)

    # 컷-돌출22: cut by cut_extrude_22_tool
    add(cut_extrude_22_tool.part, mode=Mode.SUBTRACT)


solid = part_1.part
